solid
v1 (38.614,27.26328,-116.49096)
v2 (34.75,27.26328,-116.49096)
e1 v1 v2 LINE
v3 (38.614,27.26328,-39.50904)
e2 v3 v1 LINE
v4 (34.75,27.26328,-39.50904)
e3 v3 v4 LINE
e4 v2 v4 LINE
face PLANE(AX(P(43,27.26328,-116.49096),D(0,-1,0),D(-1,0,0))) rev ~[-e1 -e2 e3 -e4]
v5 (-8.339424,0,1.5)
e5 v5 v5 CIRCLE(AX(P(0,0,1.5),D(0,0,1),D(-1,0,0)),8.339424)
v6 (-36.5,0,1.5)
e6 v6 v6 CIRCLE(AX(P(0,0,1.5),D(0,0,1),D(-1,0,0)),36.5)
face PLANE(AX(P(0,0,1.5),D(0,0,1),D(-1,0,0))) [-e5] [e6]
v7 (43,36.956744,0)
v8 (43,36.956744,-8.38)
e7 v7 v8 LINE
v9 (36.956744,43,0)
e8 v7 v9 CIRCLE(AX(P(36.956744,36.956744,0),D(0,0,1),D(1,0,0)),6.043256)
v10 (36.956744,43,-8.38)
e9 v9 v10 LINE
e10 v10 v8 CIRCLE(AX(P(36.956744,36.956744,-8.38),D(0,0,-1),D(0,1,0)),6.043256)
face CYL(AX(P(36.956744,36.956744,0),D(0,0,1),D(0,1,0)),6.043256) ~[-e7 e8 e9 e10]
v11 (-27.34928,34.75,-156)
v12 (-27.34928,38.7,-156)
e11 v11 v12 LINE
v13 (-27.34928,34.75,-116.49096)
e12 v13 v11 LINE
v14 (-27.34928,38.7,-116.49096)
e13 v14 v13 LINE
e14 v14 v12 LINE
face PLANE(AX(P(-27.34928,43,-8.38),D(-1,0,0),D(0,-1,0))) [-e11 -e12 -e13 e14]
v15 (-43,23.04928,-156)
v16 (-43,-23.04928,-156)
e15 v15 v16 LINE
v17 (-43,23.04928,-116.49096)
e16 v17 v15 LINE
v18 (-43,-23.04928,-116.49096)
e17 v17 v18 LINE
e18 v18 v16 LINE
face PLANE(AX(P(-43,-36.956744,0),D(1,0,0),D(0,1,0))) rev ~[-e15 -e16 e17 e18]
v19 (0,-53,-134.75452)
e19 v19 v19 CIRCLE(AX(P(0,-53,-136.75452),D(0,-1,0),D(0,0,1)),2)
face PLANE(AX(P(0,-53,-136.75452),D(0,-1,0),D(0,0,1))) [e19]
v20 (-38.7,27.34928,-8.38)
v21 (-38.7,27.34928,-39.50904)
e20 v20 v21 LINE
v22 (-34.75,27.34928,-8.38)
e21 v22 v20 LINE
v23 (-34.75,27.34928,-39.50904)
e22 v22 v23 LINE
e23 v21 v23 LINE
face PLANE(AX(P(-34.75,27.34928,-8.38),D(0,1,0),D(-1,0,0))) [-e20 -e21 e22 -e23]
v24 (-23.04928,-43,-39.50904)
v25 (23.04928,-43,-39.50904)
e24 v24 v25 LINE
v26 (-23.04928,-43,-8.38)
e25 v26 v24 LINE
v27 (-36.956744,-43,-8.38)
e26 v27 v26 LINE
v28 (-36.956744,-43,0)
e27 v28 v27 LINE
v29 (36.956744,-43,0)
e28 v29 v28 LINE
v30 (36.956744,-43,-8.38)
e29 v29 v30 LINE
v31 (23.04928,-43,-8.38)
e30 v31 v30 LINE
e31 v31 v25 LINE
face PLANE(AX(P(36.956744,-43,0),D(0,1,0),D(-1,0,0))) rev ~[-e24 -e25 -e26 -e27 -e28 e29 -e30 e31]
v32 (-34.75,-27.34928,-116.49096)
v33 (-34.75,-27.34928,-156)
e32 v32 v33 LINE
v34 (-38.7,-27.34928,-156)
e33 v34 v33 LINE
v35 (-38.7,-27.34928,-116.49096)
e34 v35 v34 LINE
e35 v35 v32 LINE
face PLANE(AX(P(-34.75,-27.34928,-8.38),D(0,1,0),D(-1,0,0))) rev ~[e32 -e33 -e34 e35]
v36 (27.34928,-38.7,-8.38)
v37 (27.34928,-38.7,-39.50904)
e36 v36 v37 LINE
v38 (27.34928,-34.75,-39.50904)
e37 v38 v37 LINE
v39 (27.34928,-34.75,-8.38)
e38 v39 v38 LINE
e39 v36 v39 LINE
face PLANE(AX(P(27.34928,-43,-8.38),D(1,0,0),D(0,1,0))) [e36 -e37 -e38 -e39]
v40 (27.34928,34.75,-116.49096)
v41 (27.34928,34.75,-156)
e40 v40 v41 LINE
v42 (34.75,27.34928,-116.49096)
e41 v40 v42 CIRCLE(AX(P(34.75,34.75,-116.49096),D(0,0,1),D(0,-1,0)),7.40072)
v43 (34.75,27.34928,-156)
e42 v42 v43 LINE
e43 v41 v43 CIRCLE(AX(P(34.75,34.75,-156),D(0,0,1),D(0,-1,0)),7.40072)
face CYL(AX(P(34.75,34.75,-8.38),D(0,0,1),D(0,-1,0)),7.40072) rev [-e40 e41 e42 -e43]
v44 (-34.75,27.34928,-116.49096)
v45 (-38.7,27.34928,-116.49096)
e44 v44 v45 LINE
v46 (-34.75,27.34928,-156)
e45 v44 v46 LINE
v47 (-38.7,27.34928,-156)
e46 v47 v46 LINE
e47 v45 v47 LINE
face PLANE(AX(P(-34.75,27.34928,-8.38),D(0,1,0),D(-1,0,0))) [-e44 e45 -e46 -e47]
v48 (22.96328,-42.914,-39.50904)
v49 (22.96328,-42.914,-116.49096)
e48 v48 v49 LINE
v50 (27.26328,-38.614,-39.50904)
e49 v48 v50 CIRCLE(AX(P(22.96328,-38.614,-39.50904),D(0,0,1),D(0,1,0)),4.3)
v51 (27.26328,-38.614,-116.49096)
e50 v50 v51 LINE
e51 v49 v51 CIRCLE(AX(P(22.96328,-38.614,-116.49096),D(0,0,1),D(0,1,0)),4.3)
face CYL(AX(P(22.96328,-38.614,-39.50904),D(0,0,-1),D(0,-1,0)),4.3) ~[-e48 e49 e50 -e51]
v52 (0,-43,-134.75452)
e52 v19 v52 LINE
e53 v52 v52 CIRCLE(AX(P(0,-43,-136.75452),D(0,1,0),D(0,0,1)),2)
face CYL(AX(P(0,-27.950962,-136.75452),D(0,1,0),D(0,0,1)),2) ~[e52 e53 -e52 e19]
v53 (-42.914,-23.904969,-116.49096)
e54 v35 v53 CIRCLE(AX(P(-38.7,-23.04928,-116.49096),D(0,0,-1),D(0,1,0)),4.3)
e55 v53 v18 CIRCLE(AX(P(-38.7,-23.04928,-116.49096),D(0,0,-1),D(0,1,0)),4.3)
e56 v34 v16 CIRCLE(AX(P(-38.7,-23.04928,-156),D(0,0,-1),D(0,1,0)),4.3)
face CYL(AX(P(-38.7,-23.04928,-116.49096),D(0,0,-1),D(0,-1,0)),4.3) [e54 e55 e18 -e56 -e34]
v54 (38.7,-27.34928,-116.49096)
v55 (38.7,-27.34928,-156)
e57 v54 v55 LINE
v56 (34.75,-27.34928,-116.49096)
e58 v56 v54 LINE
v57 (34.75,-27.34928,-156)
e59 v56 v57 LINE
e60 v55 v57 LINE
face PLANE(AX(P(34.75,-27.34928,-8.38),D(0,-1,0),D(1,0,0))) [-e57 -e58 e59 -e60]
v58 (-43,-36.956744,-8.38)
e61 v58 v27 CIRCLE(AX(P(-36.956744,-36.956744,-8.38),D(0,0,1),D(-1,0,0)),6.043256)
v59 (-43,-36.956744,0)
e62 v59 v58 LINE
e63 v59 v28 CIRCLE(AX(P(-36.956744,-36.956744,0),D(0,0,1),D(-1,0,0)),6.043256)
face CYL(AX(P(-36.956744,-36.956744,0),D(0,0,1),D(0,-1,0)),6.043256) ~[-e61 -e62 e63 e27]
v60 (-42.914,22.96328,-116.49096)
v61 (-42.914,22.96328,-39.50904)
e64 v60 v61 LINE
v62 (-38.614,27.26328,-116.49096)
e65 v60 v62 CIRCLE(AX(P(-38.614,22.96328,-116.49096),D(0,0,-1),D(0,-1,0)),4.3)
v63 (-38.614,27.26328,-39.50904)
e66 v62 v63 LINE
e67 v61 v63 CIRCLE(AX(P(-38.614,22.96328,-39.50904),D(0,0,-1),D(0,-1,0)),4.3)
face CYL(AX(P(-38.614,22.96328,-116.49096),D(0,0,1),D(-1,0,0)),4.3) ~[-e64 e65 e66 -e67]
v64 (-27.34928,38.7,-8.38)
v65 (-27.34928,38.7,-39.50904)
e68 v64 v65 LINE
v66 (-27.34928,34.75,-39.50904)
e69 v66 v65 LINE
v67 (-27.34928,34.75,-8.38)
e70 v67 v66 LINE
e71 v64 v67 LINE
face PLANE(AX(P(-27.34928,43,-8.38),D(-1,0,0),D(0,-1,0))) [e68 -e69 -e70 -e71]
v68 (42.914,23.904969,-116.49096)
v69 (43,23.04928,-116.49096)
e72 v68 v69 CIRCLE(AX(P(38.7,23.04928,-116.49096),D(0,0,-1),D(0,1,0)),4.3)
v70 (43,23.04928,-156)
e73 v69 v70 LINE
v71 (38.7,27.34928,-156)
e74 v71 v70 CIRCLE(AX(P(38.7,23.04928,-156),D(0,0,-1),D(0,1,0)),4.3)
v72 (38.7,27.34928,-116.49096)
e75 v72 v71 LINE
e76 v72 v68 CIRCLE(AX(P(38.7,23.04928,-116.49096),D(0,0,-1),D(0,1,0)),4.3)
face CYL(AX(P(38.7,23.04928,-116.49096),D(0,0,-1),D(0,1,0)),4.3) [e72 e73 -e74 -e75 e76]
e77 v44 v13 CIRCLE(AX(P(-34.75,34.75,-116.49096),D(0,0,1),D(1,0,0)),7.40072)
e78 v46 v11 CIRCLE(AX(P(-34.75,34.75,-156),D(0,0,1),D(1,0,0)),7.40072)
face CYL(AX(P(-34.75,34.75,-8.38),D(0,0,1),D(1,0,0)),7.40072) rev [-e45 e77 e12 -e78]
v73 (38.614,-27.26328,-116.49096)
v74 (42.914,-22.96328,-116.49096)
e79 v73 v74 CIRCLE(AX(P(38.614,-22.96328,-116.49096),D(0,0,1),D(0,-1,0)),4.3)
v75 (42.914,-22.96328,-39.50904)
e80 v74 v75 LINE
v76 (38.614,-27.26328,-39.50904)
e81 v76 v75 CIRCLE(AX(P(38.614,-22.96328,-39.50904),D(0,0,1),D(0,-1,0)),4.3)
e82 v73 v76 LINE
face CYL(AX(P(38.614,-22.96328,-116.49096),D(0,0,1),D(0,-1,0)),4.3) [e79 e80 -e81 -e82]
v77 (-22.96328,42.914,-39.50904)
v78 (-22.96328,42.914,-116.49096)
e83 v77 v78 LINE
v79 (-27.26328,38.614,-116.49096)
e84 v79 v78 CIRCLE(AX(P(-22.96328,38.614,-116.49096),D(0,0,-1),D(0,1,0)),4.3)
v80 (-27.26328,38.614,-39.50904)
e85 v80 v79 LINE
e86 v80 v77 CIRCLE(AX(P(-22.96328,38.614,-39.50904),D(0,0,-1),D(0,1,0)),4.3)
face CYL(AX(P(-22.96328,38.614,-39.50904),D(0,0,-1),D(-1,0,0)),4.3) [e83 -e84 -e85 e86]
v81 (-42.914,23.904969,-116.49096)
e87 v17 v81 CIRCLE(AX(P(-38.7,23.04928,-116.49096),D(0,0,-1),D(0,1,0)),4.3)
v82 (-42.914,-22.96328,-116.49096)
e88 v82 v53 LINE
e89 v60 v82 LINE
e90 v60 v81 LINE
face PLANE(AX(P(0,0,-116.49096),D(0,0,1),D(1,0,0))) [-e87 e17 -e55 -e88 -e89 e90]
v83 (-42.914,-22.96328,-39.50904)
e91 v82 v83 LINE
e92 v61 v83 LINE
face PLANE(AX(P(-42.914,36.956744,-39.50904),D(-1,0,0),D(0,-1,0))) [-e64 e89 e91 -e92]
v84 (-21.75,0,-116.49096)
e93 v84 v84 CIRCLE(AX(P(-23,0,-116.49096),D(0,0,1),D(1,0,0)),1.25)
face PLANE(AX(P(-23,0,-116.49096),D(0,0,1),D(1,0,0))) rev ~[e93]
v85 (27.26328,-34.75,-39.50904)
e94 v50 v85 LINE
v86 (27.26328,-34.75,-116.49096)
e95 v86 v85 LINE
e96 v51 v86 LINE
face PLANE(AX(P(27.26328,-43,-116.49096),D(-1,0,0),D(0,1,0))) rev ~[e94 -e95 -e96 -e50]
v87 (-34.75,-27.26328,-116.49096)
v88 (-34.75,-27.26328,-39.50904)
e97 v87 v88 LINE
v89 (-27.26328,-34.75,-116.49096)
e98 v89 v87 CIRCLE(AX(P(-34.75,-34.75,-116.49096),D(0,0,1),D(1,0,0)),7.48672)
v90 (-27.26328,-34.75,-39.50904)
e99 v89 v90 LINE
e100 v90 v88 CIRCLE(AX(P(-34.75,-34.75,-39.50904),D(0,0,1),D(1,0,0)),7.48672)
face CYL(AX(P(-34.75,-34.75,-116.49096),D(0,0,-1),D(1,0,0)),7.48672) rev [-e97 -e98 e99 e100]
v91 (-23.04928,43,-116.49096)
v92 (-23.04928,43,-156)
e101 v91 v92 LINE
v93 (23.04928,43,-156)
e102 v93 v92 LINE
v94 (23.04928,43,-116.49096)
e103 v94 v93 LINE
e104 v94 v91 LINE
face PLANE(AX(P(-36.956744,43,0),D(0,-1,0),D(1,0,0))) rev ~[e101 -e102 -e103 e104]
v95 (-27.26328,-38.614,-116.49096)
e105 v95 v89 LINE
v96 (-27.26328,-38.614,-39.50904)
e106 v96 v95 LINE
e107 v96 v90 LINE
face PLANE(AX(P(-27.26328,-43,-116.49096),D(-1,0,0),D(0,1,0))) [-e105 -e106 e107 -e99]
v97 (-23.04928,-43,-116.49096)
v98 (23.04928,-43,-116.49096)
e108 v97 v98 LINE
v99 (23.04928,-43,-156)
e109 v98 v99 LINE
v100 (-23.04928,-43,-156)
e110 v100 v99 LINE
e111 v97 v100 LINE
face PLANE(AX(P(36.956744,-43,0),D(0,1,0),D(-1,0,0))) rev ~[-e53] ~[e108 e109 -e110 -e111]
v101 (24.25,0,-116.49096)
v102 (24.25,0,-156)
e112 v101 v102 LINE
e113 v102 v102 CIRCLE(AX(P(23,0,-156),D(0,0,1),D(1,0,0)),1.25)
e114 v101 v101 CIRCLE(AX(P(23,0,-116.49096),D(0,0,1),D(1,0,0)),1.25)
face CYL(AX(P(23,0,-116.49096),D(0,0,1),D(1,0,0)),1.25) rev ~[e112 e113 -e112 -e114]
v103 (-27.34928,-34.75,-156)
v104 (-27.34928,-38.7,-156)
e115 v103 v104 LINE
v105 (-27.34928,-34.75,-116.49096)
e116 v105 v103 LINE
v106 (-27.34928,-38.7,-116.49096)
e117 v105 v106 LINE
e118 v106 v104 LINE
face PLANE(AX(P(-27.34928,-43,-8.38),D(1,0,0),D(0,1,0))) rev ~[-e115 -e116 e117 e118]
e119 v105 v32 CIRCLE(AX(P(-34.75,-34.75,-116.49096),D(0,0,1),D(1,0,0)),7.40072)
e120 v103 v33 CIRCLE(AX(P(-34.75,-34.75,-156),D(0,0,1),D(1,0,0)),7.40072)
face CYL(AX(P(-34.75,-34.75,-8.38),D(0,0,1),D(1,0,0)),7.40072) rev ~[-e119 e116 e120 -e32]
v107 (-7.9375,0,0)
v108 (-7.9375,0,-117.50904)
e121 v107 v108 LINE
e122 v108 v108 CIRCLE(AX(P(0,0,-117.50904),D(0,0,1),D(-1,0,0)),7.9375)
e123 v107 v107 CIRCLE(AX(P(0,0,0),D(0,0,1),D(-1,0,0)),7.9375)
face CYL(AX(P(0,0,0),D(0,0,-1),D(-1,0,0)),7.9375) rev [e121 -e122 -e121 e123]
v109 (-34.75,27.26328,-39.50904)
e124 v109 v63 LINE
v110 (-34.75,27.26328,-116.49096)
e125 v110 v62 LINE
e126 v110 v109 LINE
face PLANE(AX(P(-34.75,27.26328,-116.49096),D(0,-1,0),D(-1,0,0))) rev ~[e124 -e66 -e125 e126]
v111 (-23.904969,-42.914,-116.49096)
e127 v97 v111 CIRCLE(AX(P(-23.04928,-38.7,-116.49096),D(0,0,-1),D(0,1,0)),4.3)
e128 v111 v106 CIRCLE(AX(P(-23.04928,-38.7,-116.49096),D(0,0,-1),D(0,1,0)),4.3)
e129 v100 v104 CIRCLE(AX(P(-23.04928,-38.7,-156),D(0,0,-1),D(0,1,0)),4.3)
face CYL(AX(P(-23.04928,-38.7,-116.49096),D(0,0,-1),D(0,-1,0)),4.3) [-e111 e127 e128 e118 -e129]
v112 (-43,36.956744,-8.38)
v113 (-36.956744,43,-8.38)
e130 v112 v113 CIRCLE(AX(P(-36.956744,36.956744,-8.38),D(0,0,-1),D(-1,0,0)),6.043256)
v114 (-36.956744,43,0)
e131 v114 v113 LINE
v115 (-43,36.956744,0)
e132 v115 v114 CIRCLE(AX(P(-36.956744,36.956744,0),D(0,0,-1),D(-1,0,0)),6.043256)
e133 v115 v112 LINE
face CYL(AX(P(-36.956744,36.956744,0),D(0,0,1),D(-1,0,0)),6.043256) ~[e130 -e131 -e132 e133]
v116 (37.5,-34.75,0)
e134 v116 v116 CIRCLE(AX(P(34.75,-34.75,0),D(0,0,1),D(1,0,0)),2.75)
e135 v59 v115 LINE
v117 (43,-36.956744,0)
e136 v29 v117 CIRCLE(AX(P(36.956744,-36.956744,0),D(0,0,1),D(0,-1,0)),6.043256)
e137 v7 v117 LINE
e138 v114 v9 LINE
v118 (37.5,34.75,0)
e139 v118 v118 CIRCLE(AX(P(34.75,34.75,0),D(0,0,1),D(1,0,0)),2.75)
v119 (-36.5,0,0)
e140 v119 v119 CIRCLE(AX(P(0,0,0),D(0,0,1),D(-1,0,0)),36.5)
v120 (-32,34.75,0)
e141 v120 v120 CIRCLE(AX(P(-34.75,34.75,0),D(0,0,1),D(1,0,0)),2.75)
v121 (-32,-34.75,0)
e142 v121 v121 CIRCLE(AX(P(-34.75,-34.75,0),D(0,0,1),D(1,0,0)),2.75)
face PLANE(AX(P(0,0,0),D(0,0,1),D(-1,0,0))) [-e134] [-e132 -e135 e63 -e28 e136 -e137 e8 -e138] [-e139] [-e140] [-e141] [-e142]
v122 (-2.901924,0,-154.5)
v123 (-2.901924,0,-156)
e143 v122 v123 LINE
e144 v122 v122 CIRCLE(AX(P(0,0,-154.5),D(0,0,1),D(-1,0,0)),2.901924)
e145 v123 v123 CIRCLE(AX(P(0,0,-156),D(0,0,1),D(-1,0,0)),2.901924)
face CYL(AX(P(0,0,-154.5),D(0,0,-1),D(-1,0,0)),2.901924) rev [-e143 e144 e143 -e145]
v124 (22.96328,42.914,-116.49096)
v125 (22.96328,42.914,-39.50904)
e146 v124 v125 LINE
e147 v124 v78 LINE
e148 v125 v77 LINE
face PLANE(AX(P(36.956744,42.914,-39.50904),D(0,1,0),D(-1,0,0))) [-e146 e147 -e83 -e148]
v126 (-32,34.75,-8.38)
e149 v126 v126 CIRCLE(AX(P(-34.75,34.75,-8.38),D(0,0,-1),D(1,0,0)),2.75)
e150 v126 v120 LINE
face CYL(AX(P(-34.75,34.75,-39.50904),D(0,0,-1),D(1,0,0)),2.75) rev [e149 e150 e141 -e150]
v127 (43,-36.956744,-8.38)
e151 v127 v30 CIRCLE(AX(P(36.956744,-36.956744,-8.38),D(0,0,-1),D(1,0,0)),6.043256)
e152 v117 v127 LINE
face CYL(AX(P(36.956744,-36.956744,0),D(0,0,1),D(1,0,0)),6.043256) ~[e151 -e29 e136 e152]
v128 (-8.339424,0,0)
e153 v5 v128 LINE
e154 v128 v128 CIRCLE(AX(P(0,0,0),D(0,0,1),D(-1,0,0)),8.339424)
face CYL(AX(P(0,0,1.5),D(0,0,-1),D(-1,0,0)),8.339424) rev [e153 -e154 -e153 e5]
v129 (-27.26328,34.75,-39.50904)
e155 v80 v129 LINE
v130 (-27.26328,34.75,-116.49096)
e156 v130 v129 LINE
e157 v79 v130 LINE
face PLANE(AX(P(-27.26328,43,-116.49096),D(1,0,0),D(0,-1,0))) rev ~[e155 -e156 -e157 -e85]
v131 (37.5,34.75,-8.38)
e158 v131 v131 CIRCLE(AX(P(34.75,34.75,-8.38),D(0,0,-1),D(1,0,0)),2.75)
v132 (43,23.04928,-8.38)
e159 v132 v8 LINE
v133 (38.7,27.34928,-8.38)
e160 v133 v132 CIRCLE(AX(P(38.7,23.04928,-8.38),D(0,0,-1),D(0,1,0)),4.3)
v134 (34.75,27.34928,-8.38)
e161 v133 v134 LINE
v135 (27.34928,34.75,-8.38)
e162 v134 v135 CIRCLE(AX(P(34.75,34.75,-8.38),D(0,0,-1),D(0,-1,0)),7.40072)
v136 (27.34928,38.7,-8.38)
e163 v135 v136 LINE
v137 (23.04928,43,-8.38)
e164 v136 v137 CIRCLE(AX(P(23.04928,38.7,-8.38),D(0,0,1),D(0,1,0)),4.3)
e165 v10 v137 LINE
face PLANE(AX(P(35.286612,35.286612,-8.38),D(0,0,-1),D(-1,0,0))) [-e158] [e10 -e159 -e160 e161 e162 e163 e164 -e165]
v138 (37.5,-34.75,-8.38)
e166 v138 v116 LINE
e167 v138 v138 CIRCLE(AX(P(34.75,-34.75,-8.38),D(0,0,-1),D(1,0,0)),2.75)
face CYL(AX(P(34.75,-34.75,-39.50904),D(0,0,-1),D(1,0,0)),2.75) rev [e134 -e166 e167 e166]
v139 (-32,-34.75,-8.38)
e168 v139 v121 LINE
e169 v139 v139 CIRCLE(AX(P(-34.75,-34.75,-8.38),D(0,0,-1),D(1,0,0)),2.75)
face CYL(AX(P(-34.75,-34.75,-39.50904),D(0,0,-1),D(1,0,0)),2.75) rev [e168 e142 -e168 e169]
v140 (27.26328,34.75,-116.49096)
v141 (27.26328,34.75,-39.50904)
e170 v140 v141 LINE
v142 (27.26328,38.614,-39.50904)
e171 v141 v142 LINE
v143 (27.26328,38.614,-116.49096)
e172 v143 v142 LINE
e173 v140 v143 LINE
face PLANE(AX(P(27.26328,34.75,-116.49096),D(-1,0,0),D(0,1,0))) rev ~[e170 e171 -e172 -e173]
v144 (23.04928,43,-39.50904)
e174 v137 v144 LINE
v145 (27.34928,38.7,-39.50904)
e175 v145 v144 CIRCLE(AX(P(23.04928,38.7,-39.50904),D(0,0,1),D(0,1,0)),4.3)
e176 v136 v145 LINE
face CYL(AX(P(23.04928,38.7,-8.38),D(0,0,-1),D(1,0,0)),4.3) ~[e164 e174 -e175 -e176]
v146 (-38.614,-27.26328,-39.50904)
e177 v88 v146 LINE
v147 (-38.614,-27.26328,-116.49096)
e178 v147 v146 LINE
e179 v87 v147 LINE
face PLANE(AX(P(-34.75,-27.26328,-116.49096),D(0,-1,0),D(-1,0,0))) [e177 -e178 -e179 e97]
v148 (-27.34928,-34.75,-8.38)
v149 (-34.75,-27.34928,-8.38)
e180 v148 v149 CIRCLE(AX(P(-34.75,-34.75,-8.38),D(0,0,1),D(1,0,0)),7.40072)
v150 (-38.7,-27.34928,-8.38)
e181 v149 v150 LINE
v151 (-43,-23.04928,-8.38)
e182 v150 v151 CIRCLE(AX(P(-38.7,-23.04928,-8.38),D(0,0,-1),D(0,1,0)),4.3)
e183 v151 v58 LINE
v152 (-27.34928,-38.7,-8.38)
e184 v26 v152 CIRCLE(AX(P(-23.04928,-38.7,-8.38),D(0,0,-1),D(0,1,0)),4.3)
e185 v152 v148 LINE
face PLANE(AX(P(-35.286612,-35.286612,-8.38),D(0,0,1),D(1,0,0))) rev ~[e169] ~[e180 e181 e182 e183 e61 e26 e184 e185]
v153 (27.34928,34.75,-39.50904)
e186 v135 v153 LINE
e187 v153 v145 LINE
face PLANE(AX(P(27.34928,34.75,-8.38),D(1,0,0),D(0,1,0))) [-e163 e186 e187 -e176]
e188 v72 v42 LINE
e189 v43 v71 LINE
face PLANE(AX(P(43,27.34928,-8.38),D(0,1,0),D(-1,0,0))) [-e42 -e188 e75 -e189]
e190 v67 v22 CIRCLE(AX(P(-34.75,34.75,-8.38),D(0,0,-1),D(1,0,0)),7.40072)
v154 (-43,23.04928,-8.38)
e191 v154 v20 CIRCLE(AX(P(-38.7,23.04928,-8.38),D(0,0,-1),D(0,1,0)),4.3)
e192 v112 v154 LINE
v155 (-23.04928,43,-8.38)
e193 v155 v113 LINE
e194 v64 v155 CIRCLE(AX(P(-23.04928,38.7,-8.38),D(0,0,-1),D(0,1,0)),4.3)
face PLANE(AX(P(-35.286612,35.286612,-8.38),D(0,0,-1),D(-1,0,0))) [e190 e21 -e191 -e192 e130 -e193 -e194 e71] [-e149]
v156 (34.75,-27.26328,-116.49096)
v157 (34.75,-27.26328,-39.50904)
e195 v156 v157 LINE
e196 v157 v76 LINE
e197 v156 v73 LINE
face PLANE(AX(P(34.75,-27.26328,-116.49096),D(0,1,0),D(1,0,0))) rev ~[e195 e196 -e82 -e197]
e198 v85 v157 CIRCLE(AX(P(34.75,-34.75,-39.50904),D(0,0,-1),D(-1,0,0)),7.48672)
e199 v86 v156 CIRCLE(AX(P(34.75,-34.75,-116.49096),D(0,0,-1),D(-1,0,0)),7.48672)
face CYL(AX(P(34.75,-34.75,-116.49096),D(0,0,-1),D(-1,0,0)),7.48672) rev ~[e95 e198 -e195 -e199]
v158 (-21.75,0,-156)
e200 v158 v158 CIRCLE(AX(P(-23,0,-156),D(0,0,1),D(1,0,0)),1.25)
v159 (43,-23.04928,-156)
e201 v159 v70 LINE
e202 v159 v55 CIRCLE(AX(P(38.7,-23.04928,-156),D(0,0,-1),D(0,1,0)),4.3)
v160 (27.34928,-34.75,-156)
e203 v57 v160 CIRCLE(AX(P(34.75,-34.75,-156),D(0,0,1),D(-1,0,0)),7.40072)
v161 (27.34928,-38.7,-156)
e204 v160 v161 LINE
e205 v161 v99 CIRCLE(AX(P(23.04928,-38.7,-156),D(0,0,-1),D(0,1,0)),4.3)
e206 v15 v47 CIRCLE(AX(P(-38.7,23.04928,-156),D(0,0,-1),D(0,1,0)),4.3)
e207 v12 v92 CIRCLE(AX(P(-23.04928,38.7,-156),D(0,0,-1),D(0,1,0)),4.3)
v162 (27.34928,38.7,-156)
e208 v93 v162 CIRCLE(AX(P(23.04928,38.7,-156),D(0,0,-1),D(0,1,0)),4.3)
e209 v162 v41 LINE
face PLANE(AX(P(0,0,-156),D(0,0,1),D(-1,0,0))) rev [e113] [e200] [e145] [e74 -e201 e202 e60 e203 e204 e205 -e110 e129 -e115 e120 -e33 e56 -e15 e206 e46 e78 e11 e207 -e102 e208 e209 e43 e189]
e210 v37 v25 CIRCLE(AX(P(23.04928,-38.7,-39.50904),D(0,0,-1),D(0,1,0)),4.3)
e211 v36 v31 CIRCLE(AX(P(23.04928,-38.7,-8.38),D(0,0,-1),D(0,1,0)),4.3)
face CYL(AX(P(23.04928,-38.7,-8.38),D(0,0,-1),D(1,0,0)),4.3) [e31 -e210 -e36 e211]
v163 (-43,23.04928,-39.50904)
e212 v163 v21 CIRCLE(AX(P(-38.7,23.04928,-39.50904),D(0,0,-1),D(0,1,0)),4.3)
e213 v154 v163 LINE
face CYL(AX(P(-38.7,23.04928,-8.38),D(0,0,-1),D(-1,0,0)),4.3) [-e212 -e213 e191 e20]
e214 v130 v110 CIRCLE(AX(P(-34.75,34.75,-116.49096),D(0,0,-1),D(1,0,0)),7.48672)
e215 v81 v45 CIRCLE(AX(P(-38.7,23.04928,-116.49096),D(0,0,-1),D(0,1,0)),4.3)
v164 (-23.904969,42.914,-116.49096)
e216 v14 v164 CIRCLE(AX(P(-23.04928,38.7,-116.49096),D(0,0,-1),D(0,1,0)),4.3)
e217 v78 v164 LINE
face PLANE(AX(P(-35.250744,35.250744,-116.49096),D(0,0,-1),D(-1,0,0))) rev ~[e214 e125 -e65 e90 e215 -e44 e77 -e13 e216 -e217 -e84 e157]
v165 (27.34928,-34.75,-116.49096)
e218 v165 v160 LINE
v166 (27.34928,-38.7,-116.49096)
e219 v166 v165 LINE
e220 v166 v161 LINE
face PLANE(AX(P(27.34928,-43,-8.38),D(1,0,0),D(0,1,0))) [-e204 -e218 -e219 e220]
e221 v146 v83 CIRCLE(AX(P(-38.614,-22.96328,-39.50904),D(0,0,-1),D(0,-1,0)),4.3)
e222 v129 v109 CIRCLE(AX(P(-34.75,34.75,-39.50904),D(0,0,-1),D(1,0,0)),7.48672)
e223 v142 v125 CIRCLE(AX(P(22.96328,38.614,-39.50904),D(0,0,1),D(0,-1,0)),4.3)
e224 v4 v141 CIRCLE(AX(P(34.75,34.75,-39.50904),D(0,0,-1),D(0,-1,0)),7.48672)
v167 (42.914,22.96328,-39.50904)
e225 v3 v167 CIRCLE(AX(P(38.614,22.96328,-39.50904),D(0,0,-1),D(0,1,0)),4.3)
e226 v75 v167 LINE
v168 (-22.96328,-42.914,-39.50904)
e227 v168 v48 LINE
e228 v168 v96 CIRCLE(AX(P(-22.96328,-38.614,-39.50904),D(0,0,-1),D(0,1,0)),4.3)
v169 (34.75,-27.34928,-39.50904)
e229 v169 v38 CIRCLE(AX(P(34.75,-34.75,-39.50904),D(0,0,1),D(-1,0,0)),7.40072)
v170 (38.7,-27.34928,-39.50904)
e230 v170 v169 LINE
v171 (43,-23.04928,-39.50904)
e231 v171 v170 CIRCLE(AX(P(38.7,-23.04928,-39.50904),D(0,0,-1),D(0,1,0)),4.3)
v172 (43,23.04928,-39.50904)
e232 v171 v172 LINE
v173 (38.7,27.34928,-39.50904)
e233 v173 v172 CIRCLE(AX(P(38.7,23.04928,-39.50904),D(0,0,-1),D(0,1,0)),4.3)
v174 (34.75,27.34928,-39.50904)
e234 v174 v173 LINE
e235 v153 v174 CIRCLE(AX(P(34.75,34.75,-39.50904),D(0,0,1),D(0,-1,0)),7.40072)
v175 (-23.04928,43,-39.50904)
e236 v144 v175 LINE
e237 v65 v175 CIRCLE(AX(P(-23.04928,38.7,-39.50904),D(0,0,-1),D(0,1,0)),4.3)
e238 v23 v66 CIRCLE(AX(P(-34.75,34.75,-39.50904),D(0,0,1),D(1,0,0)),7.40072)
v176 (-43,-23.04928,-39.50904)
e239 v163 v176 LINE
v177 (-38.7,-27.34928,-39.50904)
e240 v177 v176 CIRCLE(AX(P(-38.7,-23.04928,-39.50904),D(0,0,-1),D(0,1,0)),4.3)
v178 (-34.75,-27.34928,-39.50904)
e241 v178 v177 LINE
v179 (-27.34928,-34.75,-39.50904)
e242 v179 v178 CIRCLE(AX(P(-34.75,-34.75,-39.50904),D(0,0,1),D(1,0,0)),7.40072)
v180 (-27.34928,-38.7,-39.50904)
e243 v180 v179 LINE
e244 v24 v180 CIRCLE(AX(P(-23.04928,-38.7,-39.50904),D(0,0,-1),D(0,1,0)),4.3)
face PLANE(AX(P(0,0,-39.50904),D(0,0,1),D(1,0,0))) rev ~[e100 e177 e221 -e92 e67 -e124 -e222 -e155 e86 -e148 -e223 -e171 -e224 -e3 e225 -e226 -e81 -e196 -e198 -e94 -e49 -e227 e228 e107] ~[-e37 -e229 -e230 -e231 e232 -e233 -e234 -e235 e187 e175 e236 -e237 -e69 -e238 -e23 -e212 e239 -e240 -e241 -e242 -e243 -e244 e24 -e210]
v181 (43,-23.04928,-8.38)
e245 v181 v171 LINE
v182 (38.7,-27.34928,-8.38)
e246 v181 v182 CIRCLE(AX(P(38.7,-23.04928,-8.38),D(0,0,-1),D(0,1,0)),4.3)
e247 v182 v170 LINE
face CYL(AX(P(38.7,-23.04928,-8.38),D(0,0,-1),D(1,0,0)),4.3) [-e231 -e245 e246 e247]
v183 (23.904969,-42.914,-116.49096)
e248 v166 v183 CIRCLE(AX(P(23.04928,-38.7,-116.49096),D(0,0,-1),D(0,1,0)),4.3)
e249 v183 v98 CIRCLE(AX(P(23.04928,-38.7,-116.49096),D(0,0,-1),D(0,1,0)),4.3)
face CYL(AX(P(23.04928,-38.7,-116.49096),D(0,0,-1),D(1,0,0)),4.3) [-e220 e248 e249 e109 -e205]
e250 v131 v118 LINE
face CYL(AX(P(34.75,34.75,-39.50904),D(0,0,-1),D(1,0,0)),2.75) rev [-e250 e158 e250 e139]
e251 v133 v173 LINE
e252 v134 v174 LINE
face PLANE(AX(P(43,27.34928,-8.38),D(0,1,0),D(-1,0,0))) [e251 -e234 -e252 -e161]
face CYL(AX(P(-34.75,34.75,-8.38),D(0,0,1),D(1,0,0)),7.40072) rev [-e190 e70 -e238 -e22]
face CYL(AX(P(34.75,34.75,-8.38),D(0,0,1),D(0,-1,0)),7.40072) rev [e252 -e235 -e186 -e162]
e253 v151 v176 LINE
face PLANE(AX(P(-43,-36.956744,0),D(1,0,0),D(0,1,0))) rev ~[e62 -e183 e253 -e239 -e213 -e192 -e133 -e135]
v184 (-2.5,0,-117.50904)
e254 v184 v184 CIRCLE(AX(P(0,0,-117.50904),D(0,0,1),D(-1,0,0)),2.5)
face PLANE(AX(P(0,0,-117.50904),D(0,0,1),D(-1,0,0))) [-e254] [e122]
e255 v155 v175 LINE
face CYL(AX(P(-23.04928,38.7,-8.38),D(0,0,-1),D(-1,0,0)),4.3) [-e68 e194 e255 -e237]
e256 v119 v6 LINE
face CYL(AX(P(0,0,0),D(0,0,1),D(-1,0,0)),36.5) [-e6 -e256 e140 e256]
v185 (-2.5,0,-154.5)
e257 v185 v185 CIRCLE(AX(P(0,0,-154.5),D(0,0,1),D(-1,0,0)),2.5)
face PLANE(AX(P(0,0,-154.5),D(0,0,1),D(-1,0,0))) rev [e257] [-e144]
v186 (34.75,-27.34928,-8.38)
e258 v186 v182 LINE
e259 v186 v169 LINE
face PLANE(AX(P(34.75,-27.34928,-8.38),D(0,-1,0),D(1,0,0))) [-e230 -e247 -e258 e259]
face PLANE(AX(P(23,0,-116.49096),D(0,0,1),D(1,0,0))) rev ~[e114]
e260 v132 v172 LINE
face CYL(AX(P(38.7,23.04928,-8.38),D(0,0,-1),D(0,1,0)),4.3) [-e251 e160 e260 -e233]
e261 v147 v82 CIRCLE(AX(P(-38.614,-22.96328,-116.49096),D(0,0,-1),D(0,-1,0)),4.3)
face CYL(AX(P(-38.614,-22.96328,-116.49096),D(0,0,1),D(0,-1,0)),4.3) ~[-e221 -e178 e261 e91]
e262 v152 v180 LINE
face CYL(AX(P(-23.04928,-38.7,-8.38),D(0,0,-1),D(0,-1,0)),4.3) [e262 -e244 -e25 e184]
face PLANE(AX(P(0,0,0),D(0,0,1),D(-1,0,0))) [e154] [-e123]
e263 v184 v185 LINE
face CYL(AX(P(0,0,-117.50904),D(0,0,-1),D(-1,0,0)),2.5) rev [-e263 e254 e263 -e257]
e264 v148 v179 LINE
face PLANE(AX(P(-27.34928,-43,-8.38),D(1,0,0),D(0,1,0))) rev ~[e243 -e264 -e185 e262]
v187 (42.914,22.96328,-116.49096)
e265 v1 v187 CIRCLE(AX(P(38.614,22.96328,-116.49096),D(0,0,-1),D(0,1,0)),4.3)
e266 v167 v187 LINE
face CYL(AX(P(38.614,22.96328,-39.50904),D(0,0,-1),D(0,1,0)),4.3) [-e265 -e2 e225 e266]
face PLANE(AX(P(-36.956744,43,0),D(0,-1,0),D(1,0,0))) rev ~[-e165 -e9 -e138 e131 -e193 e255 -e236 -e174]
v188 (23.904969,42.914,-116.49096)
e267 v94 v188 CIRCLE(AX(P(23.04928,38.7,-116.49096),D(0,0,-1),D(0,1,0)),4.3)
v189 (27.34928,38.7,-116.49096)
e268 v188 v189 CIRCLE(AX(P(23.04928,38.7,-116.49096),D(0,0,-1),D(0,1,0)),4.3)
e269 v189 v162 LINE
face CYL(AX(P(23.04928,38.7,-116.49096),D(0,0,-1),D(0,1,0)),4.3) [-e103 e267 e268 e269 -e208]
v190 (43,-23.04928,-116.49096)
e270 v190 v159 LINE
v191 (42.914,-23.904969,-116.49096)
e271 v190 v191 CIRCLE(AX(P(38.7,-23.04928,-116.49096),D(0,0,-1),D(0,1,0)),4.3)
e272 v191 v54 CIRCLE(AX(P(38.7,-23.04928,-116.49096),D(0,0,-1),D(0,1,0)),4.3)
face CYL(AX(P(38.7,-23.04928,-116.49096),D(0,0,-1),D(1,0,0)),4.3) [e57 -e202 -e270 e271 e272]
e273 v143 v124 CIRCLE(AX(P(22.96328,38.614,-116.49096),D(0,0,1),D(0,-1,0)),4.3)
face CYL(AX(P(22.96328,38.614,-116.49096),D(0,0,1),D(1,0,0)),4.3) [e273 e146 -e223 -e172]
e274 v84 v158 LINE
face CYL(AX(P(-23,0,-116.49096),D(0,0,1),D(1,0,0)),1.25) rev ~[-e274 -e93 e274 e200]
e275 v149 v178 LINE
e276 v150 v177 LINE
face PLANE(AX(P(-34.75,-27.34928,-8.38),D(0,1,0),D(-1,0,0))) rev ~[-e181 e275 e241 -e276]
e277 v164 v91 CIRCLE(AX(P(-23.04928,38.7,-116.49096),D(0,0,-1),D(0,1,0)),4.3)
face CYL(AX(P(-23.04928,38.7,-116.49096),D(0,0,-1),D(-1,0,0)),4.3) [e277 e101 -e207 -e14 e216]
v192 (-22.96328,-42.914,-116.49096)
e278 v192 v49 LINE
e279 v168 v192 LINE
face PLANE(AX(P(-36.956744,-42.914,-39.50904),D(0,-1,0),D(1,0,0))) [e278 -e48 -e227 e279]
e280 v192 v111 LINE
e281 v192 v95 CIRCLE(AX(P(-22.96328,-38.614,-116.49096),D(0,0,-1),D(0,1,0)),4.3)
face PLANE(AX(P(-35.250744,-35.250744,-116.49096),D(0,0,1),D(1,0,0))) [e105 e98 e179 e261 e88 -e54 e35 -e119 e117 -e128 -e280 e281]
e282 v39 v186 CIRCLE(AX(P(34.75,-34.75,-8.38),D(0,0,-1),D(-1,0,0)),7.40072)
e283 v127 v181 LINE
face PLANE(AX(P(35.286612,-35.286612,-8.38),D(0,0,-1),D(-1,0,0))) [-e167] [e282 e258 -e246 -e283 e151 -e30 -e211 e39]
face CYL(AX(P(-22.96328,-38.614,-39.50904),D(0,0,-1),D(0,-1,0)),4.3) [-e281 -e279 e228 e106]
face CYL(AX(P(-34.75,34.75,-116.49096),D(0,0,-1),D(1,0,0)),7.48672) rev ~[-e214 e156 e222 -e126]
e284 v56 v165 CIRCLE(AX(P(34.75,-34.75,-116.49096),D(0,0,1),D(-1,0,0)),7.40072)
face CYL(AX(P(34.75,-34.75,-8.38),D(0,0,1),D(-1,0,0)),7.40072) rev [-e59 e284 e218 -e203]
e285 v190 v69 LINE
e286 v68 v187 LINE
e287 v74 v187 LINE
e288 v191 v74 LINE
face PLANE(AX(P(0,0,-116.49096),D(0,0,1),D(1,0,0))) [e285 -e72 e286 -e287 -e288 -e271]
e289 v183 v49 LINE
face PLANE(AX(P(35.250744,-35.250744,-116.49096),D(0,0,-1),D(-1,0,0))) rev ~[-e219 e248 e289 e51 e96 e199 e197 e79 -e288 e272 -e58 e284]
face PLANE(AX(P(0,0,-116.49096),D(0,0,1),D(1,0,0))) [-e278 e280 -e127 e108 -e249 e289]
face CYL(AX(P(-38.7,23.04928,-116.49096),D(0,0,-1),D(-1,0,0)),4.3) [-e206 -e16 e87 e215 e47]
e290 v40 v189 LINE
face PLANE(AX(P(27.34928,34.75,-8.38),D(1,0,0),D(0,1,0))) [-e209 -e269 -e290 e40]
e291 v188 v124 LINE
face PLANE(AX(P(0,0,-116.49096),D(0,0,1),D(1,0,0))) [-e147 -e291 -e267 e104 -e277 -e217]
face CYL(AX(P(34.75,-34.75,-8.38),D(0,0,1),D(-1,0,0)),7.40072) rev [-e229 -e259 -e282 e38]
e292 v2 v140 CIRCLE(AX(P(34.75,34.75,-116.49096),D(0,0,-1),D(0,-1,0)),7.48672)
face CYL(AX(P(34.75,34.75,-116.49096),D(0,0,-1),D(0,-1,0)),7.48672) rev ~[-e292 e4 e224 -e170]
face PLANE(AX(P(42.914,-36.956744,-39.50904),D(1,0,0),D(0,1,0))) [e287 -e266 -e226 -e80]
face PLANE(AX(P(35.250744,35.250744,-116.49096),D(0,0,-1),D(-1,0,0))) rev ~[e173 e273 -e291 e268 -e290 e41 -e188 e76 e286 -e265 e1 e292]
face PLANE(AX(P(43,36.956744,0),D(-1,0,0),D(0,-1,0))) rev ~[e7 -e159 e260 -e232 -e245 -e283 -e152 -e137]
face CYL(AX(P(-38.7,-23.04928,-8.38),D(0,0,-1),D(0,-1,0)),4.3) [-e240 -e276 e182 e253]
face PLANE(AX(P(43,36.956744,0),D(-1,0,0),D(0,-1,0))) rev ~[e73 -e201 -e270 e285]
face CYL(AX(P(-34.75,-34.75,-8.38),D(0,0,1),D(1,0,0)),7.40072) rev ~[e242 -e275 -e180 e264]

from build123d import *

# Parameters (mm, degrees)
SKETCH9_OUTSIDE_W          = 164.226
SKETCH9_OUTSIDE_H          = 164.226
BODY_CUT_DEPTH             = 177.452945975
SKETCH10_OUTSIDE_W         = 127.798
SKETCH10_OUTSIDE_H         = 127.798
BODY_CUT_INNER_DEPTH       = 76.981920155
CUT_FIXING_HOLE_START      = -39.50904
SKETCH15_R                 = 2.75
CUT_FIXING_HOLE_DEPTH      = 39.50904
SKETCH16_R                 = 1.25
CUT_BACK_FIXING_HOLE_DEPTH = 133.739845789
CUT_CORNER_DEPTH           = 160.654828928
CUT_CORNER_INNER_START     = -76.98192
CUT_CORNER_INNER_DEPTH     = 76.98192
SKETCH18_W                 = 2
SKETCH18_H                 = 50.098076211
COSMETIC_FILLET_INNER_R    = 4.3
COSMETIC_FILLET_R          = 4.3


with BuildPart() as part:
    # Sketch5 → Body-Front (revolve)
    with BuildSketch(Plane(origin=(0, 0, 0), x_dir=(0, 0, -1), z_dir=(1, 0, 0)), mode=Mode.PRIVATE) as body_front_sk:
        Polygon((0, 8.339423789), (0, 7.9375), (38.490960077, 7.9375), (38.490960077, 29.153992315), (39.509039923, 29.153992315), (39.509039923, 58.307984631), (0, 58.307984631), (0, 36.5), (-1.5, 36.5), (-1.5, 8.339423789), align=None)
    revolve(body_front_sk.sketch.rotate(Axis((0, 0, -80.9), (0, 0, 1)), 90), axis=Axis((0, 0, -80.9), (0, 0, 1)))

    # Sketch6 → Body-Middle (revolve)
    with BuildSketch(Plane(origin=(0, 0, 0), x_dir=(0, 0, -1), z_dir=(1, 0, 0)), mode=Mode.PRIVATE) as body_middle_sk:
        Polygon((39.509039923, 29.153992315), (39.509039923, 58.307984631), (116.490960077, 58.307984631), (116.490960077, 29.153992315), (117.509039923, 29.153992315), (117.509039923, 7.9375), (38.490960077, 7.9375), (38.490960077, 29.153992315), align=None)
    revolve(body_middle_sk.sketch.rotate(Axis((0, 0, -80.9), (0, 0, 1)), 90), axis=Axis((0, 0, -80.9), (0, 0, 1)))

    # Sketch7 → Body-Back (revolve)
    with BuildSketch(Plane(origin=(0, 0, 0), x_dir=(0, 0, -1), z_dir=(1, 0, 0)), mode=Mode.PRIVATE) as body_back_sk:
        Polygon((156, 58.307984631), (116.490960077, 58.307984631), (116.490960077, 29.153992315), (117.509039923, 29.153992315), (117.509039923, 2.5), (154.5, 2.5), (154.5, 2.901923789), (156, 2.901923789), align=None)
    revolve(body_back_sk.sketch.rotate(Axis((0, 0, -80.9), (0, 0, 1)), 90), axis=Axis((0, 0, -80.9), (0, 0, 1)))

    # Sketch9 outside → Body-Cut (cut, through all)
    with BuildSketch(Plane.XY):
        Rectangle(SKETCH9_OUTSIDE_W, SKETCH9_OUTSIDE_H)
        with BuildLine():
            Line((-36.956744108, 43), (36.956744108, 43))
            ThreePointArc((36.956744108, 43), (41.22997133, 41.22997133), (43, 36.956744108))
            Line((43, 36.956744108), (43, -36.956744108))
            ThreePointArc((43, -36.956744108), (41.22997133, -41.22997133), (36.956744108, -43))
            Line((36.956744108, -43), (-36.956744108, -43))
            ThreePointArc((-36.956744108, -43), (-41.22997133, -41.22997133), (-43, -36.956744108))
            Line((-43, -36.956744108), (-43, 36.956744108))
            ThreePointArc((-43, 36.956744108), (-41.22997133, 41.22997133), (-36.956744108, 43))
        make_face(mode=Mode.SUBTRACT)
    extrude(amount=-BODY_CUT_DEPTH, mode=Mode.SUBTRACT)

    # Sketch10 outside → Body-Cut-Inner (cut)
    with BuildSketch(Plane.XY.offset(-39.509039923)):
        Rectangle(SKETCH10_OUTSIDE_W, SKETCH10_OUTSIDE_H)
        with BuildLine():
            Line((-42.914, 36.956744108), (-42.914, -36.956744108))
            ThreePointArc((-42.914, -36.956744108), (-41.169160146, -41.169160146), (-36.956744108, -42.914))
            Line((-36.956744108, -42.914), (36.956744108, -42.914))
            ThreePointArc((36.956744108, -42.914), (41.169160146, -41.169160146), (42.914, -36.956744108))
            Line((42.914, -36.956744108), (42.914, 36.956744108))
            ThreePointArc((42.914, 36.956744108), (41.169160146, 41.169160146), (36.956744108, 42.914))
            Line((36.956744108, 42.914), (-36.956744108, 42.914))
            ThreePointArc((-36.956744108, 42.914), (-41.169160146, 41.169160146), (-42.914, 36.956744108))
        make_face(mode=Mode.SUBTRACT)
    extrude(amount=-BODY_CUT_INNER_DEPTH, mode=Mode.SUBTRACT)

    # Sketch15 → Cut-Fixing-Hole (cut)
    with BuildSketch(Plane.XY.offset(CUT_FIXING_HOLE_START)):
        with Locations((34.75, -34.75)):
            Circle(SKETCH15_R)
        with Locations((-34.75, -34.75)):
            Circle(SKETCH15_R)
        with Locations((34.75, 34.75)):
            Circle(SKETCH15_R)
        with Locations((-34.75, 34.75)):
            Circle(SKETCH15_R)
    extrude(amount=CUT_FIXING_HOLE_DEPTH, mode=Mode.SUBTRACT)

    # Sketch16 → Cut-Back-Fixing-Hole (cut, through all)
    with BuildSketch(Plane.XY.offset(-116.490960077)):
        with Locations((-23, 0)):
            Circle(SKETCH16_R)
        with Locations((23, 0)):
            Circle(SKETCH16_R)
    extrude(amount=-CUT_BACK_FIXING_HOLE_DEPTH, mode=Mode.SUBTRACT)

    # Sketch11 → Cut-Corner (cut, through all)
    with BuildSketch(Plane.XY.offset(-8.38)):
        with BuildLine():
            Line((-27.349279927, 43), (-27.349279927, 34.75))
            ThreePointArc((-27.349279927, 34.75), (-29.51690065, 29.51690065), (-34.75, 27.349279927))
            Line((-34.75, 27.349279927), (-43, 27.349279927))
            Line((-43, 27.349279927), (-43, 36.956744108))
            ThreePointArc((-43, 36.956744108), (-41.22997133, 41.22997133), (-36.956744108, 43))
            Line((-36.956744108, 43), (-27.349279927, 43))
        make_face()
        with BuildLine():
            Line((-34.75, -27.349279927), (-43, -27.349279927))
            Line((-43, -27.349279927), (-43, -36.956744108))
            ThreePointArc((-43, -36.956744108), (-41.22997133, -41.22997133), (-36.956744108, -43))
            Line((-36.956744108, -43), (-27.349279927, -43))
            Line((-27.349279927, -43), (-27.349279927, -34.75))
            ThreePointArc((-27.349279927, -34.75), (-29.51690065, -29.51690065), (-34.75, -27.349279927))
        make_face()
        with BuildLine():
            Line((27.349279927, -43), (27.349279927, -34.75))
            ThreePointArc((27.349279927, -34.75), (29.51690065, -29.51690065), (34.75, -27.349279927))
            Line((34.75, -27.349279927), (43, -27.349279927))
            Line((43, -27.349279927), (43, -36.956744108))
            ThreePointArc((43, -36.956744108), (41.22997133, -41.22997133), (36.956744108, -43))
            Line((36.956744108, -43), (27.349279927, -43))
        make_face()
        with BuildLine():
            Line((43, 36.956744108), (43, 27.349279927))
            Line((43, 27.349279927), (34.75, 27.349279927))
            ThreePointArc((34.75, 27.349279927), (29.51690065, 29.51690065), (27.349279927, 34.75))
            Line((27.349279927, 34.75), (27.349279927, 43))
            Line((27.349279927, 43), (36.956744108, 43))
            ThreePointArc((36.956744108, 43), (41.22997133, 41.22997133), (43, 36.956744108))
        make_face()
    extrude(amount=-CUT_CORNER_DEPTH, mode=Mode.SUBTRACT)

    # Sketch13 → Cut-Corner-Inner (cut)
    with BuildSketch(Plane.XY.offset(-39.509039923).offset(CUT_CORNER_INNER_START)):
        with BuildLine():
            Line((-34.75, 27.263279927), (-43, 27.263279927))
            Line((-43, 27.263279927), (-43, 36.956744108))
            ThreePointArc((-43, 36.956744108), (-41.22997133, 41.22997133), (-36.956744108, 43))
            Line((-36.956744108, 43), (-27.263279927, 43))
            Line((-27.263279927, 43), (-27.263279927, 34.75))
            ThreePointArc((-27.263279927, 34.75), (-29.456089467, 29.456089467), (-34.75, 27.263279927))
        make_face()
        with BuildLine():
            Line((-34.75, -27.263279927), (-43, -27.263279927))
            Line((-43, -27.263279927), (-43, -36.956744108))
            ThreePointArc((-43, -36.956744108), (-41.22997133, -41.22997133), (-36.956744108, -43))
            Line((-36.956744108, -43), (-27.263279927, -43))
            Line((-27.263279927, -43), (-27.263279927, -34.75))
            ThreePointArc((-27.263279927, -34.75), (-29.456089467, -29.456089467), (-34.75, -27.263279927))
        make_face()
        with BuildLine():
            Line((27.263279927, -43), (27.263279927, -34.75))
            ThreePointArc((27.263279927, -34.75), (29.456089467, -29.456089467), (34.75, -27.263279927))
            Line((34.75, -27.263279927), (43, -27.263279927))
            Line((43, -27.263279927), (43, -36.956744108))
            ThreePointArc((43, -36.956744108), (41.22997133, -41.22997133), (36.956744108, -43))
            Line((36.956744108, -43), (27.263279927, -43))
        make_face()
        with BuildLine():
            Line((43, 36.956744108), (43, 27.263279927))
            Line((43, 27.263279927), (34.75, 27.263279927))
            ThreePointArc((34.75, 27.263279927), (29.456089467, 29.456089467), (27.263279927, 34.75))
            Line((27.263279927, 34.75), (27.263279927, 43))
            Line((27.263279927, 43), (36.956744108, 43))
            ThreePointArc((36.956744108, 43), (41.22997133, 41.22997133), (43, 36.956744108))
        make_face()
    extrude(amount=CUT_CORNER_INNER_DEPTH, mode=Mode.SUBTRACT)

    # Sketch18 → Body-Cable (revolve)
    with BuildSketch(Plane(origin=(0, 0, 0), x_dir=(0, 0, -1), z_dir=(1, 0, 0))):
        with Locations((135.754519961, -27.950961895)):
            Rectangle(SKETCH18_W, SKETCH18_H)
    revolve(axis=Axis((0, 29.153992315, -136.754519961), (0, -1, 0)))

    # Cosmetic-Fillet-Inner
    cosmetic_fillet_inner_edges = [part.edges().sort_by_distance(p)[0] for p in [
        (-27.263279927, 42.914, -77.999999923),
        (-42.914, 27.263279927, -77.999999923),
        (-27.263279927, -42.914, -77.999999923),
        (-42.914, -27.263279927, -77.999999923),
        (42.914, -27.263279927, -77.999999923),
        (27.263279927, -42.914, -77.999999923),
        (42.914, 27.263279927, -77.999999923),
        (27.263279927, 42.914, -77.999999923),
    ]]
    fillet(cosmetic_fillet_inner_edges, radius=COSMETIC_FILLET_INNER_R)

    # Cosmetic-Fillet
    cosmetic_fillet_edges = [part.edges().sort_by_distance(p)[0] for p in [
        (-27.349279927, 43, -23.944519961),
        (-27.349279927, 43, -136.245480039),
        (-43, 27.349279927, -23.944519961),
        (-43, 27.349279927, -136.245480039),
        (-27.349279927, -43, -23.944519961),
        (-43, -27.349279927, -23.944519961),
        (-43, -27.349279927, -136.245480039),
        (-27.349279927, -43, -136.245480039),
        (43, -27.349279927, -23.944519961),
        (27.349279927, -43, -23.944519961),
        (27.349279927, -43, -136.245480039),
        (43, -27.349279927, -136.245480039),
        (27.349279927, 43, -23.944519961),
        (43, 27.349279927, -23.944519961),
        (43, 27.349279927, -136.245480039),
        (27.349279927, 43, -136.245480039),
    ]]
    fillet(cosmetic_fillet_edges, radius=COSMETIC_FILLET_R)


solid = part.part
